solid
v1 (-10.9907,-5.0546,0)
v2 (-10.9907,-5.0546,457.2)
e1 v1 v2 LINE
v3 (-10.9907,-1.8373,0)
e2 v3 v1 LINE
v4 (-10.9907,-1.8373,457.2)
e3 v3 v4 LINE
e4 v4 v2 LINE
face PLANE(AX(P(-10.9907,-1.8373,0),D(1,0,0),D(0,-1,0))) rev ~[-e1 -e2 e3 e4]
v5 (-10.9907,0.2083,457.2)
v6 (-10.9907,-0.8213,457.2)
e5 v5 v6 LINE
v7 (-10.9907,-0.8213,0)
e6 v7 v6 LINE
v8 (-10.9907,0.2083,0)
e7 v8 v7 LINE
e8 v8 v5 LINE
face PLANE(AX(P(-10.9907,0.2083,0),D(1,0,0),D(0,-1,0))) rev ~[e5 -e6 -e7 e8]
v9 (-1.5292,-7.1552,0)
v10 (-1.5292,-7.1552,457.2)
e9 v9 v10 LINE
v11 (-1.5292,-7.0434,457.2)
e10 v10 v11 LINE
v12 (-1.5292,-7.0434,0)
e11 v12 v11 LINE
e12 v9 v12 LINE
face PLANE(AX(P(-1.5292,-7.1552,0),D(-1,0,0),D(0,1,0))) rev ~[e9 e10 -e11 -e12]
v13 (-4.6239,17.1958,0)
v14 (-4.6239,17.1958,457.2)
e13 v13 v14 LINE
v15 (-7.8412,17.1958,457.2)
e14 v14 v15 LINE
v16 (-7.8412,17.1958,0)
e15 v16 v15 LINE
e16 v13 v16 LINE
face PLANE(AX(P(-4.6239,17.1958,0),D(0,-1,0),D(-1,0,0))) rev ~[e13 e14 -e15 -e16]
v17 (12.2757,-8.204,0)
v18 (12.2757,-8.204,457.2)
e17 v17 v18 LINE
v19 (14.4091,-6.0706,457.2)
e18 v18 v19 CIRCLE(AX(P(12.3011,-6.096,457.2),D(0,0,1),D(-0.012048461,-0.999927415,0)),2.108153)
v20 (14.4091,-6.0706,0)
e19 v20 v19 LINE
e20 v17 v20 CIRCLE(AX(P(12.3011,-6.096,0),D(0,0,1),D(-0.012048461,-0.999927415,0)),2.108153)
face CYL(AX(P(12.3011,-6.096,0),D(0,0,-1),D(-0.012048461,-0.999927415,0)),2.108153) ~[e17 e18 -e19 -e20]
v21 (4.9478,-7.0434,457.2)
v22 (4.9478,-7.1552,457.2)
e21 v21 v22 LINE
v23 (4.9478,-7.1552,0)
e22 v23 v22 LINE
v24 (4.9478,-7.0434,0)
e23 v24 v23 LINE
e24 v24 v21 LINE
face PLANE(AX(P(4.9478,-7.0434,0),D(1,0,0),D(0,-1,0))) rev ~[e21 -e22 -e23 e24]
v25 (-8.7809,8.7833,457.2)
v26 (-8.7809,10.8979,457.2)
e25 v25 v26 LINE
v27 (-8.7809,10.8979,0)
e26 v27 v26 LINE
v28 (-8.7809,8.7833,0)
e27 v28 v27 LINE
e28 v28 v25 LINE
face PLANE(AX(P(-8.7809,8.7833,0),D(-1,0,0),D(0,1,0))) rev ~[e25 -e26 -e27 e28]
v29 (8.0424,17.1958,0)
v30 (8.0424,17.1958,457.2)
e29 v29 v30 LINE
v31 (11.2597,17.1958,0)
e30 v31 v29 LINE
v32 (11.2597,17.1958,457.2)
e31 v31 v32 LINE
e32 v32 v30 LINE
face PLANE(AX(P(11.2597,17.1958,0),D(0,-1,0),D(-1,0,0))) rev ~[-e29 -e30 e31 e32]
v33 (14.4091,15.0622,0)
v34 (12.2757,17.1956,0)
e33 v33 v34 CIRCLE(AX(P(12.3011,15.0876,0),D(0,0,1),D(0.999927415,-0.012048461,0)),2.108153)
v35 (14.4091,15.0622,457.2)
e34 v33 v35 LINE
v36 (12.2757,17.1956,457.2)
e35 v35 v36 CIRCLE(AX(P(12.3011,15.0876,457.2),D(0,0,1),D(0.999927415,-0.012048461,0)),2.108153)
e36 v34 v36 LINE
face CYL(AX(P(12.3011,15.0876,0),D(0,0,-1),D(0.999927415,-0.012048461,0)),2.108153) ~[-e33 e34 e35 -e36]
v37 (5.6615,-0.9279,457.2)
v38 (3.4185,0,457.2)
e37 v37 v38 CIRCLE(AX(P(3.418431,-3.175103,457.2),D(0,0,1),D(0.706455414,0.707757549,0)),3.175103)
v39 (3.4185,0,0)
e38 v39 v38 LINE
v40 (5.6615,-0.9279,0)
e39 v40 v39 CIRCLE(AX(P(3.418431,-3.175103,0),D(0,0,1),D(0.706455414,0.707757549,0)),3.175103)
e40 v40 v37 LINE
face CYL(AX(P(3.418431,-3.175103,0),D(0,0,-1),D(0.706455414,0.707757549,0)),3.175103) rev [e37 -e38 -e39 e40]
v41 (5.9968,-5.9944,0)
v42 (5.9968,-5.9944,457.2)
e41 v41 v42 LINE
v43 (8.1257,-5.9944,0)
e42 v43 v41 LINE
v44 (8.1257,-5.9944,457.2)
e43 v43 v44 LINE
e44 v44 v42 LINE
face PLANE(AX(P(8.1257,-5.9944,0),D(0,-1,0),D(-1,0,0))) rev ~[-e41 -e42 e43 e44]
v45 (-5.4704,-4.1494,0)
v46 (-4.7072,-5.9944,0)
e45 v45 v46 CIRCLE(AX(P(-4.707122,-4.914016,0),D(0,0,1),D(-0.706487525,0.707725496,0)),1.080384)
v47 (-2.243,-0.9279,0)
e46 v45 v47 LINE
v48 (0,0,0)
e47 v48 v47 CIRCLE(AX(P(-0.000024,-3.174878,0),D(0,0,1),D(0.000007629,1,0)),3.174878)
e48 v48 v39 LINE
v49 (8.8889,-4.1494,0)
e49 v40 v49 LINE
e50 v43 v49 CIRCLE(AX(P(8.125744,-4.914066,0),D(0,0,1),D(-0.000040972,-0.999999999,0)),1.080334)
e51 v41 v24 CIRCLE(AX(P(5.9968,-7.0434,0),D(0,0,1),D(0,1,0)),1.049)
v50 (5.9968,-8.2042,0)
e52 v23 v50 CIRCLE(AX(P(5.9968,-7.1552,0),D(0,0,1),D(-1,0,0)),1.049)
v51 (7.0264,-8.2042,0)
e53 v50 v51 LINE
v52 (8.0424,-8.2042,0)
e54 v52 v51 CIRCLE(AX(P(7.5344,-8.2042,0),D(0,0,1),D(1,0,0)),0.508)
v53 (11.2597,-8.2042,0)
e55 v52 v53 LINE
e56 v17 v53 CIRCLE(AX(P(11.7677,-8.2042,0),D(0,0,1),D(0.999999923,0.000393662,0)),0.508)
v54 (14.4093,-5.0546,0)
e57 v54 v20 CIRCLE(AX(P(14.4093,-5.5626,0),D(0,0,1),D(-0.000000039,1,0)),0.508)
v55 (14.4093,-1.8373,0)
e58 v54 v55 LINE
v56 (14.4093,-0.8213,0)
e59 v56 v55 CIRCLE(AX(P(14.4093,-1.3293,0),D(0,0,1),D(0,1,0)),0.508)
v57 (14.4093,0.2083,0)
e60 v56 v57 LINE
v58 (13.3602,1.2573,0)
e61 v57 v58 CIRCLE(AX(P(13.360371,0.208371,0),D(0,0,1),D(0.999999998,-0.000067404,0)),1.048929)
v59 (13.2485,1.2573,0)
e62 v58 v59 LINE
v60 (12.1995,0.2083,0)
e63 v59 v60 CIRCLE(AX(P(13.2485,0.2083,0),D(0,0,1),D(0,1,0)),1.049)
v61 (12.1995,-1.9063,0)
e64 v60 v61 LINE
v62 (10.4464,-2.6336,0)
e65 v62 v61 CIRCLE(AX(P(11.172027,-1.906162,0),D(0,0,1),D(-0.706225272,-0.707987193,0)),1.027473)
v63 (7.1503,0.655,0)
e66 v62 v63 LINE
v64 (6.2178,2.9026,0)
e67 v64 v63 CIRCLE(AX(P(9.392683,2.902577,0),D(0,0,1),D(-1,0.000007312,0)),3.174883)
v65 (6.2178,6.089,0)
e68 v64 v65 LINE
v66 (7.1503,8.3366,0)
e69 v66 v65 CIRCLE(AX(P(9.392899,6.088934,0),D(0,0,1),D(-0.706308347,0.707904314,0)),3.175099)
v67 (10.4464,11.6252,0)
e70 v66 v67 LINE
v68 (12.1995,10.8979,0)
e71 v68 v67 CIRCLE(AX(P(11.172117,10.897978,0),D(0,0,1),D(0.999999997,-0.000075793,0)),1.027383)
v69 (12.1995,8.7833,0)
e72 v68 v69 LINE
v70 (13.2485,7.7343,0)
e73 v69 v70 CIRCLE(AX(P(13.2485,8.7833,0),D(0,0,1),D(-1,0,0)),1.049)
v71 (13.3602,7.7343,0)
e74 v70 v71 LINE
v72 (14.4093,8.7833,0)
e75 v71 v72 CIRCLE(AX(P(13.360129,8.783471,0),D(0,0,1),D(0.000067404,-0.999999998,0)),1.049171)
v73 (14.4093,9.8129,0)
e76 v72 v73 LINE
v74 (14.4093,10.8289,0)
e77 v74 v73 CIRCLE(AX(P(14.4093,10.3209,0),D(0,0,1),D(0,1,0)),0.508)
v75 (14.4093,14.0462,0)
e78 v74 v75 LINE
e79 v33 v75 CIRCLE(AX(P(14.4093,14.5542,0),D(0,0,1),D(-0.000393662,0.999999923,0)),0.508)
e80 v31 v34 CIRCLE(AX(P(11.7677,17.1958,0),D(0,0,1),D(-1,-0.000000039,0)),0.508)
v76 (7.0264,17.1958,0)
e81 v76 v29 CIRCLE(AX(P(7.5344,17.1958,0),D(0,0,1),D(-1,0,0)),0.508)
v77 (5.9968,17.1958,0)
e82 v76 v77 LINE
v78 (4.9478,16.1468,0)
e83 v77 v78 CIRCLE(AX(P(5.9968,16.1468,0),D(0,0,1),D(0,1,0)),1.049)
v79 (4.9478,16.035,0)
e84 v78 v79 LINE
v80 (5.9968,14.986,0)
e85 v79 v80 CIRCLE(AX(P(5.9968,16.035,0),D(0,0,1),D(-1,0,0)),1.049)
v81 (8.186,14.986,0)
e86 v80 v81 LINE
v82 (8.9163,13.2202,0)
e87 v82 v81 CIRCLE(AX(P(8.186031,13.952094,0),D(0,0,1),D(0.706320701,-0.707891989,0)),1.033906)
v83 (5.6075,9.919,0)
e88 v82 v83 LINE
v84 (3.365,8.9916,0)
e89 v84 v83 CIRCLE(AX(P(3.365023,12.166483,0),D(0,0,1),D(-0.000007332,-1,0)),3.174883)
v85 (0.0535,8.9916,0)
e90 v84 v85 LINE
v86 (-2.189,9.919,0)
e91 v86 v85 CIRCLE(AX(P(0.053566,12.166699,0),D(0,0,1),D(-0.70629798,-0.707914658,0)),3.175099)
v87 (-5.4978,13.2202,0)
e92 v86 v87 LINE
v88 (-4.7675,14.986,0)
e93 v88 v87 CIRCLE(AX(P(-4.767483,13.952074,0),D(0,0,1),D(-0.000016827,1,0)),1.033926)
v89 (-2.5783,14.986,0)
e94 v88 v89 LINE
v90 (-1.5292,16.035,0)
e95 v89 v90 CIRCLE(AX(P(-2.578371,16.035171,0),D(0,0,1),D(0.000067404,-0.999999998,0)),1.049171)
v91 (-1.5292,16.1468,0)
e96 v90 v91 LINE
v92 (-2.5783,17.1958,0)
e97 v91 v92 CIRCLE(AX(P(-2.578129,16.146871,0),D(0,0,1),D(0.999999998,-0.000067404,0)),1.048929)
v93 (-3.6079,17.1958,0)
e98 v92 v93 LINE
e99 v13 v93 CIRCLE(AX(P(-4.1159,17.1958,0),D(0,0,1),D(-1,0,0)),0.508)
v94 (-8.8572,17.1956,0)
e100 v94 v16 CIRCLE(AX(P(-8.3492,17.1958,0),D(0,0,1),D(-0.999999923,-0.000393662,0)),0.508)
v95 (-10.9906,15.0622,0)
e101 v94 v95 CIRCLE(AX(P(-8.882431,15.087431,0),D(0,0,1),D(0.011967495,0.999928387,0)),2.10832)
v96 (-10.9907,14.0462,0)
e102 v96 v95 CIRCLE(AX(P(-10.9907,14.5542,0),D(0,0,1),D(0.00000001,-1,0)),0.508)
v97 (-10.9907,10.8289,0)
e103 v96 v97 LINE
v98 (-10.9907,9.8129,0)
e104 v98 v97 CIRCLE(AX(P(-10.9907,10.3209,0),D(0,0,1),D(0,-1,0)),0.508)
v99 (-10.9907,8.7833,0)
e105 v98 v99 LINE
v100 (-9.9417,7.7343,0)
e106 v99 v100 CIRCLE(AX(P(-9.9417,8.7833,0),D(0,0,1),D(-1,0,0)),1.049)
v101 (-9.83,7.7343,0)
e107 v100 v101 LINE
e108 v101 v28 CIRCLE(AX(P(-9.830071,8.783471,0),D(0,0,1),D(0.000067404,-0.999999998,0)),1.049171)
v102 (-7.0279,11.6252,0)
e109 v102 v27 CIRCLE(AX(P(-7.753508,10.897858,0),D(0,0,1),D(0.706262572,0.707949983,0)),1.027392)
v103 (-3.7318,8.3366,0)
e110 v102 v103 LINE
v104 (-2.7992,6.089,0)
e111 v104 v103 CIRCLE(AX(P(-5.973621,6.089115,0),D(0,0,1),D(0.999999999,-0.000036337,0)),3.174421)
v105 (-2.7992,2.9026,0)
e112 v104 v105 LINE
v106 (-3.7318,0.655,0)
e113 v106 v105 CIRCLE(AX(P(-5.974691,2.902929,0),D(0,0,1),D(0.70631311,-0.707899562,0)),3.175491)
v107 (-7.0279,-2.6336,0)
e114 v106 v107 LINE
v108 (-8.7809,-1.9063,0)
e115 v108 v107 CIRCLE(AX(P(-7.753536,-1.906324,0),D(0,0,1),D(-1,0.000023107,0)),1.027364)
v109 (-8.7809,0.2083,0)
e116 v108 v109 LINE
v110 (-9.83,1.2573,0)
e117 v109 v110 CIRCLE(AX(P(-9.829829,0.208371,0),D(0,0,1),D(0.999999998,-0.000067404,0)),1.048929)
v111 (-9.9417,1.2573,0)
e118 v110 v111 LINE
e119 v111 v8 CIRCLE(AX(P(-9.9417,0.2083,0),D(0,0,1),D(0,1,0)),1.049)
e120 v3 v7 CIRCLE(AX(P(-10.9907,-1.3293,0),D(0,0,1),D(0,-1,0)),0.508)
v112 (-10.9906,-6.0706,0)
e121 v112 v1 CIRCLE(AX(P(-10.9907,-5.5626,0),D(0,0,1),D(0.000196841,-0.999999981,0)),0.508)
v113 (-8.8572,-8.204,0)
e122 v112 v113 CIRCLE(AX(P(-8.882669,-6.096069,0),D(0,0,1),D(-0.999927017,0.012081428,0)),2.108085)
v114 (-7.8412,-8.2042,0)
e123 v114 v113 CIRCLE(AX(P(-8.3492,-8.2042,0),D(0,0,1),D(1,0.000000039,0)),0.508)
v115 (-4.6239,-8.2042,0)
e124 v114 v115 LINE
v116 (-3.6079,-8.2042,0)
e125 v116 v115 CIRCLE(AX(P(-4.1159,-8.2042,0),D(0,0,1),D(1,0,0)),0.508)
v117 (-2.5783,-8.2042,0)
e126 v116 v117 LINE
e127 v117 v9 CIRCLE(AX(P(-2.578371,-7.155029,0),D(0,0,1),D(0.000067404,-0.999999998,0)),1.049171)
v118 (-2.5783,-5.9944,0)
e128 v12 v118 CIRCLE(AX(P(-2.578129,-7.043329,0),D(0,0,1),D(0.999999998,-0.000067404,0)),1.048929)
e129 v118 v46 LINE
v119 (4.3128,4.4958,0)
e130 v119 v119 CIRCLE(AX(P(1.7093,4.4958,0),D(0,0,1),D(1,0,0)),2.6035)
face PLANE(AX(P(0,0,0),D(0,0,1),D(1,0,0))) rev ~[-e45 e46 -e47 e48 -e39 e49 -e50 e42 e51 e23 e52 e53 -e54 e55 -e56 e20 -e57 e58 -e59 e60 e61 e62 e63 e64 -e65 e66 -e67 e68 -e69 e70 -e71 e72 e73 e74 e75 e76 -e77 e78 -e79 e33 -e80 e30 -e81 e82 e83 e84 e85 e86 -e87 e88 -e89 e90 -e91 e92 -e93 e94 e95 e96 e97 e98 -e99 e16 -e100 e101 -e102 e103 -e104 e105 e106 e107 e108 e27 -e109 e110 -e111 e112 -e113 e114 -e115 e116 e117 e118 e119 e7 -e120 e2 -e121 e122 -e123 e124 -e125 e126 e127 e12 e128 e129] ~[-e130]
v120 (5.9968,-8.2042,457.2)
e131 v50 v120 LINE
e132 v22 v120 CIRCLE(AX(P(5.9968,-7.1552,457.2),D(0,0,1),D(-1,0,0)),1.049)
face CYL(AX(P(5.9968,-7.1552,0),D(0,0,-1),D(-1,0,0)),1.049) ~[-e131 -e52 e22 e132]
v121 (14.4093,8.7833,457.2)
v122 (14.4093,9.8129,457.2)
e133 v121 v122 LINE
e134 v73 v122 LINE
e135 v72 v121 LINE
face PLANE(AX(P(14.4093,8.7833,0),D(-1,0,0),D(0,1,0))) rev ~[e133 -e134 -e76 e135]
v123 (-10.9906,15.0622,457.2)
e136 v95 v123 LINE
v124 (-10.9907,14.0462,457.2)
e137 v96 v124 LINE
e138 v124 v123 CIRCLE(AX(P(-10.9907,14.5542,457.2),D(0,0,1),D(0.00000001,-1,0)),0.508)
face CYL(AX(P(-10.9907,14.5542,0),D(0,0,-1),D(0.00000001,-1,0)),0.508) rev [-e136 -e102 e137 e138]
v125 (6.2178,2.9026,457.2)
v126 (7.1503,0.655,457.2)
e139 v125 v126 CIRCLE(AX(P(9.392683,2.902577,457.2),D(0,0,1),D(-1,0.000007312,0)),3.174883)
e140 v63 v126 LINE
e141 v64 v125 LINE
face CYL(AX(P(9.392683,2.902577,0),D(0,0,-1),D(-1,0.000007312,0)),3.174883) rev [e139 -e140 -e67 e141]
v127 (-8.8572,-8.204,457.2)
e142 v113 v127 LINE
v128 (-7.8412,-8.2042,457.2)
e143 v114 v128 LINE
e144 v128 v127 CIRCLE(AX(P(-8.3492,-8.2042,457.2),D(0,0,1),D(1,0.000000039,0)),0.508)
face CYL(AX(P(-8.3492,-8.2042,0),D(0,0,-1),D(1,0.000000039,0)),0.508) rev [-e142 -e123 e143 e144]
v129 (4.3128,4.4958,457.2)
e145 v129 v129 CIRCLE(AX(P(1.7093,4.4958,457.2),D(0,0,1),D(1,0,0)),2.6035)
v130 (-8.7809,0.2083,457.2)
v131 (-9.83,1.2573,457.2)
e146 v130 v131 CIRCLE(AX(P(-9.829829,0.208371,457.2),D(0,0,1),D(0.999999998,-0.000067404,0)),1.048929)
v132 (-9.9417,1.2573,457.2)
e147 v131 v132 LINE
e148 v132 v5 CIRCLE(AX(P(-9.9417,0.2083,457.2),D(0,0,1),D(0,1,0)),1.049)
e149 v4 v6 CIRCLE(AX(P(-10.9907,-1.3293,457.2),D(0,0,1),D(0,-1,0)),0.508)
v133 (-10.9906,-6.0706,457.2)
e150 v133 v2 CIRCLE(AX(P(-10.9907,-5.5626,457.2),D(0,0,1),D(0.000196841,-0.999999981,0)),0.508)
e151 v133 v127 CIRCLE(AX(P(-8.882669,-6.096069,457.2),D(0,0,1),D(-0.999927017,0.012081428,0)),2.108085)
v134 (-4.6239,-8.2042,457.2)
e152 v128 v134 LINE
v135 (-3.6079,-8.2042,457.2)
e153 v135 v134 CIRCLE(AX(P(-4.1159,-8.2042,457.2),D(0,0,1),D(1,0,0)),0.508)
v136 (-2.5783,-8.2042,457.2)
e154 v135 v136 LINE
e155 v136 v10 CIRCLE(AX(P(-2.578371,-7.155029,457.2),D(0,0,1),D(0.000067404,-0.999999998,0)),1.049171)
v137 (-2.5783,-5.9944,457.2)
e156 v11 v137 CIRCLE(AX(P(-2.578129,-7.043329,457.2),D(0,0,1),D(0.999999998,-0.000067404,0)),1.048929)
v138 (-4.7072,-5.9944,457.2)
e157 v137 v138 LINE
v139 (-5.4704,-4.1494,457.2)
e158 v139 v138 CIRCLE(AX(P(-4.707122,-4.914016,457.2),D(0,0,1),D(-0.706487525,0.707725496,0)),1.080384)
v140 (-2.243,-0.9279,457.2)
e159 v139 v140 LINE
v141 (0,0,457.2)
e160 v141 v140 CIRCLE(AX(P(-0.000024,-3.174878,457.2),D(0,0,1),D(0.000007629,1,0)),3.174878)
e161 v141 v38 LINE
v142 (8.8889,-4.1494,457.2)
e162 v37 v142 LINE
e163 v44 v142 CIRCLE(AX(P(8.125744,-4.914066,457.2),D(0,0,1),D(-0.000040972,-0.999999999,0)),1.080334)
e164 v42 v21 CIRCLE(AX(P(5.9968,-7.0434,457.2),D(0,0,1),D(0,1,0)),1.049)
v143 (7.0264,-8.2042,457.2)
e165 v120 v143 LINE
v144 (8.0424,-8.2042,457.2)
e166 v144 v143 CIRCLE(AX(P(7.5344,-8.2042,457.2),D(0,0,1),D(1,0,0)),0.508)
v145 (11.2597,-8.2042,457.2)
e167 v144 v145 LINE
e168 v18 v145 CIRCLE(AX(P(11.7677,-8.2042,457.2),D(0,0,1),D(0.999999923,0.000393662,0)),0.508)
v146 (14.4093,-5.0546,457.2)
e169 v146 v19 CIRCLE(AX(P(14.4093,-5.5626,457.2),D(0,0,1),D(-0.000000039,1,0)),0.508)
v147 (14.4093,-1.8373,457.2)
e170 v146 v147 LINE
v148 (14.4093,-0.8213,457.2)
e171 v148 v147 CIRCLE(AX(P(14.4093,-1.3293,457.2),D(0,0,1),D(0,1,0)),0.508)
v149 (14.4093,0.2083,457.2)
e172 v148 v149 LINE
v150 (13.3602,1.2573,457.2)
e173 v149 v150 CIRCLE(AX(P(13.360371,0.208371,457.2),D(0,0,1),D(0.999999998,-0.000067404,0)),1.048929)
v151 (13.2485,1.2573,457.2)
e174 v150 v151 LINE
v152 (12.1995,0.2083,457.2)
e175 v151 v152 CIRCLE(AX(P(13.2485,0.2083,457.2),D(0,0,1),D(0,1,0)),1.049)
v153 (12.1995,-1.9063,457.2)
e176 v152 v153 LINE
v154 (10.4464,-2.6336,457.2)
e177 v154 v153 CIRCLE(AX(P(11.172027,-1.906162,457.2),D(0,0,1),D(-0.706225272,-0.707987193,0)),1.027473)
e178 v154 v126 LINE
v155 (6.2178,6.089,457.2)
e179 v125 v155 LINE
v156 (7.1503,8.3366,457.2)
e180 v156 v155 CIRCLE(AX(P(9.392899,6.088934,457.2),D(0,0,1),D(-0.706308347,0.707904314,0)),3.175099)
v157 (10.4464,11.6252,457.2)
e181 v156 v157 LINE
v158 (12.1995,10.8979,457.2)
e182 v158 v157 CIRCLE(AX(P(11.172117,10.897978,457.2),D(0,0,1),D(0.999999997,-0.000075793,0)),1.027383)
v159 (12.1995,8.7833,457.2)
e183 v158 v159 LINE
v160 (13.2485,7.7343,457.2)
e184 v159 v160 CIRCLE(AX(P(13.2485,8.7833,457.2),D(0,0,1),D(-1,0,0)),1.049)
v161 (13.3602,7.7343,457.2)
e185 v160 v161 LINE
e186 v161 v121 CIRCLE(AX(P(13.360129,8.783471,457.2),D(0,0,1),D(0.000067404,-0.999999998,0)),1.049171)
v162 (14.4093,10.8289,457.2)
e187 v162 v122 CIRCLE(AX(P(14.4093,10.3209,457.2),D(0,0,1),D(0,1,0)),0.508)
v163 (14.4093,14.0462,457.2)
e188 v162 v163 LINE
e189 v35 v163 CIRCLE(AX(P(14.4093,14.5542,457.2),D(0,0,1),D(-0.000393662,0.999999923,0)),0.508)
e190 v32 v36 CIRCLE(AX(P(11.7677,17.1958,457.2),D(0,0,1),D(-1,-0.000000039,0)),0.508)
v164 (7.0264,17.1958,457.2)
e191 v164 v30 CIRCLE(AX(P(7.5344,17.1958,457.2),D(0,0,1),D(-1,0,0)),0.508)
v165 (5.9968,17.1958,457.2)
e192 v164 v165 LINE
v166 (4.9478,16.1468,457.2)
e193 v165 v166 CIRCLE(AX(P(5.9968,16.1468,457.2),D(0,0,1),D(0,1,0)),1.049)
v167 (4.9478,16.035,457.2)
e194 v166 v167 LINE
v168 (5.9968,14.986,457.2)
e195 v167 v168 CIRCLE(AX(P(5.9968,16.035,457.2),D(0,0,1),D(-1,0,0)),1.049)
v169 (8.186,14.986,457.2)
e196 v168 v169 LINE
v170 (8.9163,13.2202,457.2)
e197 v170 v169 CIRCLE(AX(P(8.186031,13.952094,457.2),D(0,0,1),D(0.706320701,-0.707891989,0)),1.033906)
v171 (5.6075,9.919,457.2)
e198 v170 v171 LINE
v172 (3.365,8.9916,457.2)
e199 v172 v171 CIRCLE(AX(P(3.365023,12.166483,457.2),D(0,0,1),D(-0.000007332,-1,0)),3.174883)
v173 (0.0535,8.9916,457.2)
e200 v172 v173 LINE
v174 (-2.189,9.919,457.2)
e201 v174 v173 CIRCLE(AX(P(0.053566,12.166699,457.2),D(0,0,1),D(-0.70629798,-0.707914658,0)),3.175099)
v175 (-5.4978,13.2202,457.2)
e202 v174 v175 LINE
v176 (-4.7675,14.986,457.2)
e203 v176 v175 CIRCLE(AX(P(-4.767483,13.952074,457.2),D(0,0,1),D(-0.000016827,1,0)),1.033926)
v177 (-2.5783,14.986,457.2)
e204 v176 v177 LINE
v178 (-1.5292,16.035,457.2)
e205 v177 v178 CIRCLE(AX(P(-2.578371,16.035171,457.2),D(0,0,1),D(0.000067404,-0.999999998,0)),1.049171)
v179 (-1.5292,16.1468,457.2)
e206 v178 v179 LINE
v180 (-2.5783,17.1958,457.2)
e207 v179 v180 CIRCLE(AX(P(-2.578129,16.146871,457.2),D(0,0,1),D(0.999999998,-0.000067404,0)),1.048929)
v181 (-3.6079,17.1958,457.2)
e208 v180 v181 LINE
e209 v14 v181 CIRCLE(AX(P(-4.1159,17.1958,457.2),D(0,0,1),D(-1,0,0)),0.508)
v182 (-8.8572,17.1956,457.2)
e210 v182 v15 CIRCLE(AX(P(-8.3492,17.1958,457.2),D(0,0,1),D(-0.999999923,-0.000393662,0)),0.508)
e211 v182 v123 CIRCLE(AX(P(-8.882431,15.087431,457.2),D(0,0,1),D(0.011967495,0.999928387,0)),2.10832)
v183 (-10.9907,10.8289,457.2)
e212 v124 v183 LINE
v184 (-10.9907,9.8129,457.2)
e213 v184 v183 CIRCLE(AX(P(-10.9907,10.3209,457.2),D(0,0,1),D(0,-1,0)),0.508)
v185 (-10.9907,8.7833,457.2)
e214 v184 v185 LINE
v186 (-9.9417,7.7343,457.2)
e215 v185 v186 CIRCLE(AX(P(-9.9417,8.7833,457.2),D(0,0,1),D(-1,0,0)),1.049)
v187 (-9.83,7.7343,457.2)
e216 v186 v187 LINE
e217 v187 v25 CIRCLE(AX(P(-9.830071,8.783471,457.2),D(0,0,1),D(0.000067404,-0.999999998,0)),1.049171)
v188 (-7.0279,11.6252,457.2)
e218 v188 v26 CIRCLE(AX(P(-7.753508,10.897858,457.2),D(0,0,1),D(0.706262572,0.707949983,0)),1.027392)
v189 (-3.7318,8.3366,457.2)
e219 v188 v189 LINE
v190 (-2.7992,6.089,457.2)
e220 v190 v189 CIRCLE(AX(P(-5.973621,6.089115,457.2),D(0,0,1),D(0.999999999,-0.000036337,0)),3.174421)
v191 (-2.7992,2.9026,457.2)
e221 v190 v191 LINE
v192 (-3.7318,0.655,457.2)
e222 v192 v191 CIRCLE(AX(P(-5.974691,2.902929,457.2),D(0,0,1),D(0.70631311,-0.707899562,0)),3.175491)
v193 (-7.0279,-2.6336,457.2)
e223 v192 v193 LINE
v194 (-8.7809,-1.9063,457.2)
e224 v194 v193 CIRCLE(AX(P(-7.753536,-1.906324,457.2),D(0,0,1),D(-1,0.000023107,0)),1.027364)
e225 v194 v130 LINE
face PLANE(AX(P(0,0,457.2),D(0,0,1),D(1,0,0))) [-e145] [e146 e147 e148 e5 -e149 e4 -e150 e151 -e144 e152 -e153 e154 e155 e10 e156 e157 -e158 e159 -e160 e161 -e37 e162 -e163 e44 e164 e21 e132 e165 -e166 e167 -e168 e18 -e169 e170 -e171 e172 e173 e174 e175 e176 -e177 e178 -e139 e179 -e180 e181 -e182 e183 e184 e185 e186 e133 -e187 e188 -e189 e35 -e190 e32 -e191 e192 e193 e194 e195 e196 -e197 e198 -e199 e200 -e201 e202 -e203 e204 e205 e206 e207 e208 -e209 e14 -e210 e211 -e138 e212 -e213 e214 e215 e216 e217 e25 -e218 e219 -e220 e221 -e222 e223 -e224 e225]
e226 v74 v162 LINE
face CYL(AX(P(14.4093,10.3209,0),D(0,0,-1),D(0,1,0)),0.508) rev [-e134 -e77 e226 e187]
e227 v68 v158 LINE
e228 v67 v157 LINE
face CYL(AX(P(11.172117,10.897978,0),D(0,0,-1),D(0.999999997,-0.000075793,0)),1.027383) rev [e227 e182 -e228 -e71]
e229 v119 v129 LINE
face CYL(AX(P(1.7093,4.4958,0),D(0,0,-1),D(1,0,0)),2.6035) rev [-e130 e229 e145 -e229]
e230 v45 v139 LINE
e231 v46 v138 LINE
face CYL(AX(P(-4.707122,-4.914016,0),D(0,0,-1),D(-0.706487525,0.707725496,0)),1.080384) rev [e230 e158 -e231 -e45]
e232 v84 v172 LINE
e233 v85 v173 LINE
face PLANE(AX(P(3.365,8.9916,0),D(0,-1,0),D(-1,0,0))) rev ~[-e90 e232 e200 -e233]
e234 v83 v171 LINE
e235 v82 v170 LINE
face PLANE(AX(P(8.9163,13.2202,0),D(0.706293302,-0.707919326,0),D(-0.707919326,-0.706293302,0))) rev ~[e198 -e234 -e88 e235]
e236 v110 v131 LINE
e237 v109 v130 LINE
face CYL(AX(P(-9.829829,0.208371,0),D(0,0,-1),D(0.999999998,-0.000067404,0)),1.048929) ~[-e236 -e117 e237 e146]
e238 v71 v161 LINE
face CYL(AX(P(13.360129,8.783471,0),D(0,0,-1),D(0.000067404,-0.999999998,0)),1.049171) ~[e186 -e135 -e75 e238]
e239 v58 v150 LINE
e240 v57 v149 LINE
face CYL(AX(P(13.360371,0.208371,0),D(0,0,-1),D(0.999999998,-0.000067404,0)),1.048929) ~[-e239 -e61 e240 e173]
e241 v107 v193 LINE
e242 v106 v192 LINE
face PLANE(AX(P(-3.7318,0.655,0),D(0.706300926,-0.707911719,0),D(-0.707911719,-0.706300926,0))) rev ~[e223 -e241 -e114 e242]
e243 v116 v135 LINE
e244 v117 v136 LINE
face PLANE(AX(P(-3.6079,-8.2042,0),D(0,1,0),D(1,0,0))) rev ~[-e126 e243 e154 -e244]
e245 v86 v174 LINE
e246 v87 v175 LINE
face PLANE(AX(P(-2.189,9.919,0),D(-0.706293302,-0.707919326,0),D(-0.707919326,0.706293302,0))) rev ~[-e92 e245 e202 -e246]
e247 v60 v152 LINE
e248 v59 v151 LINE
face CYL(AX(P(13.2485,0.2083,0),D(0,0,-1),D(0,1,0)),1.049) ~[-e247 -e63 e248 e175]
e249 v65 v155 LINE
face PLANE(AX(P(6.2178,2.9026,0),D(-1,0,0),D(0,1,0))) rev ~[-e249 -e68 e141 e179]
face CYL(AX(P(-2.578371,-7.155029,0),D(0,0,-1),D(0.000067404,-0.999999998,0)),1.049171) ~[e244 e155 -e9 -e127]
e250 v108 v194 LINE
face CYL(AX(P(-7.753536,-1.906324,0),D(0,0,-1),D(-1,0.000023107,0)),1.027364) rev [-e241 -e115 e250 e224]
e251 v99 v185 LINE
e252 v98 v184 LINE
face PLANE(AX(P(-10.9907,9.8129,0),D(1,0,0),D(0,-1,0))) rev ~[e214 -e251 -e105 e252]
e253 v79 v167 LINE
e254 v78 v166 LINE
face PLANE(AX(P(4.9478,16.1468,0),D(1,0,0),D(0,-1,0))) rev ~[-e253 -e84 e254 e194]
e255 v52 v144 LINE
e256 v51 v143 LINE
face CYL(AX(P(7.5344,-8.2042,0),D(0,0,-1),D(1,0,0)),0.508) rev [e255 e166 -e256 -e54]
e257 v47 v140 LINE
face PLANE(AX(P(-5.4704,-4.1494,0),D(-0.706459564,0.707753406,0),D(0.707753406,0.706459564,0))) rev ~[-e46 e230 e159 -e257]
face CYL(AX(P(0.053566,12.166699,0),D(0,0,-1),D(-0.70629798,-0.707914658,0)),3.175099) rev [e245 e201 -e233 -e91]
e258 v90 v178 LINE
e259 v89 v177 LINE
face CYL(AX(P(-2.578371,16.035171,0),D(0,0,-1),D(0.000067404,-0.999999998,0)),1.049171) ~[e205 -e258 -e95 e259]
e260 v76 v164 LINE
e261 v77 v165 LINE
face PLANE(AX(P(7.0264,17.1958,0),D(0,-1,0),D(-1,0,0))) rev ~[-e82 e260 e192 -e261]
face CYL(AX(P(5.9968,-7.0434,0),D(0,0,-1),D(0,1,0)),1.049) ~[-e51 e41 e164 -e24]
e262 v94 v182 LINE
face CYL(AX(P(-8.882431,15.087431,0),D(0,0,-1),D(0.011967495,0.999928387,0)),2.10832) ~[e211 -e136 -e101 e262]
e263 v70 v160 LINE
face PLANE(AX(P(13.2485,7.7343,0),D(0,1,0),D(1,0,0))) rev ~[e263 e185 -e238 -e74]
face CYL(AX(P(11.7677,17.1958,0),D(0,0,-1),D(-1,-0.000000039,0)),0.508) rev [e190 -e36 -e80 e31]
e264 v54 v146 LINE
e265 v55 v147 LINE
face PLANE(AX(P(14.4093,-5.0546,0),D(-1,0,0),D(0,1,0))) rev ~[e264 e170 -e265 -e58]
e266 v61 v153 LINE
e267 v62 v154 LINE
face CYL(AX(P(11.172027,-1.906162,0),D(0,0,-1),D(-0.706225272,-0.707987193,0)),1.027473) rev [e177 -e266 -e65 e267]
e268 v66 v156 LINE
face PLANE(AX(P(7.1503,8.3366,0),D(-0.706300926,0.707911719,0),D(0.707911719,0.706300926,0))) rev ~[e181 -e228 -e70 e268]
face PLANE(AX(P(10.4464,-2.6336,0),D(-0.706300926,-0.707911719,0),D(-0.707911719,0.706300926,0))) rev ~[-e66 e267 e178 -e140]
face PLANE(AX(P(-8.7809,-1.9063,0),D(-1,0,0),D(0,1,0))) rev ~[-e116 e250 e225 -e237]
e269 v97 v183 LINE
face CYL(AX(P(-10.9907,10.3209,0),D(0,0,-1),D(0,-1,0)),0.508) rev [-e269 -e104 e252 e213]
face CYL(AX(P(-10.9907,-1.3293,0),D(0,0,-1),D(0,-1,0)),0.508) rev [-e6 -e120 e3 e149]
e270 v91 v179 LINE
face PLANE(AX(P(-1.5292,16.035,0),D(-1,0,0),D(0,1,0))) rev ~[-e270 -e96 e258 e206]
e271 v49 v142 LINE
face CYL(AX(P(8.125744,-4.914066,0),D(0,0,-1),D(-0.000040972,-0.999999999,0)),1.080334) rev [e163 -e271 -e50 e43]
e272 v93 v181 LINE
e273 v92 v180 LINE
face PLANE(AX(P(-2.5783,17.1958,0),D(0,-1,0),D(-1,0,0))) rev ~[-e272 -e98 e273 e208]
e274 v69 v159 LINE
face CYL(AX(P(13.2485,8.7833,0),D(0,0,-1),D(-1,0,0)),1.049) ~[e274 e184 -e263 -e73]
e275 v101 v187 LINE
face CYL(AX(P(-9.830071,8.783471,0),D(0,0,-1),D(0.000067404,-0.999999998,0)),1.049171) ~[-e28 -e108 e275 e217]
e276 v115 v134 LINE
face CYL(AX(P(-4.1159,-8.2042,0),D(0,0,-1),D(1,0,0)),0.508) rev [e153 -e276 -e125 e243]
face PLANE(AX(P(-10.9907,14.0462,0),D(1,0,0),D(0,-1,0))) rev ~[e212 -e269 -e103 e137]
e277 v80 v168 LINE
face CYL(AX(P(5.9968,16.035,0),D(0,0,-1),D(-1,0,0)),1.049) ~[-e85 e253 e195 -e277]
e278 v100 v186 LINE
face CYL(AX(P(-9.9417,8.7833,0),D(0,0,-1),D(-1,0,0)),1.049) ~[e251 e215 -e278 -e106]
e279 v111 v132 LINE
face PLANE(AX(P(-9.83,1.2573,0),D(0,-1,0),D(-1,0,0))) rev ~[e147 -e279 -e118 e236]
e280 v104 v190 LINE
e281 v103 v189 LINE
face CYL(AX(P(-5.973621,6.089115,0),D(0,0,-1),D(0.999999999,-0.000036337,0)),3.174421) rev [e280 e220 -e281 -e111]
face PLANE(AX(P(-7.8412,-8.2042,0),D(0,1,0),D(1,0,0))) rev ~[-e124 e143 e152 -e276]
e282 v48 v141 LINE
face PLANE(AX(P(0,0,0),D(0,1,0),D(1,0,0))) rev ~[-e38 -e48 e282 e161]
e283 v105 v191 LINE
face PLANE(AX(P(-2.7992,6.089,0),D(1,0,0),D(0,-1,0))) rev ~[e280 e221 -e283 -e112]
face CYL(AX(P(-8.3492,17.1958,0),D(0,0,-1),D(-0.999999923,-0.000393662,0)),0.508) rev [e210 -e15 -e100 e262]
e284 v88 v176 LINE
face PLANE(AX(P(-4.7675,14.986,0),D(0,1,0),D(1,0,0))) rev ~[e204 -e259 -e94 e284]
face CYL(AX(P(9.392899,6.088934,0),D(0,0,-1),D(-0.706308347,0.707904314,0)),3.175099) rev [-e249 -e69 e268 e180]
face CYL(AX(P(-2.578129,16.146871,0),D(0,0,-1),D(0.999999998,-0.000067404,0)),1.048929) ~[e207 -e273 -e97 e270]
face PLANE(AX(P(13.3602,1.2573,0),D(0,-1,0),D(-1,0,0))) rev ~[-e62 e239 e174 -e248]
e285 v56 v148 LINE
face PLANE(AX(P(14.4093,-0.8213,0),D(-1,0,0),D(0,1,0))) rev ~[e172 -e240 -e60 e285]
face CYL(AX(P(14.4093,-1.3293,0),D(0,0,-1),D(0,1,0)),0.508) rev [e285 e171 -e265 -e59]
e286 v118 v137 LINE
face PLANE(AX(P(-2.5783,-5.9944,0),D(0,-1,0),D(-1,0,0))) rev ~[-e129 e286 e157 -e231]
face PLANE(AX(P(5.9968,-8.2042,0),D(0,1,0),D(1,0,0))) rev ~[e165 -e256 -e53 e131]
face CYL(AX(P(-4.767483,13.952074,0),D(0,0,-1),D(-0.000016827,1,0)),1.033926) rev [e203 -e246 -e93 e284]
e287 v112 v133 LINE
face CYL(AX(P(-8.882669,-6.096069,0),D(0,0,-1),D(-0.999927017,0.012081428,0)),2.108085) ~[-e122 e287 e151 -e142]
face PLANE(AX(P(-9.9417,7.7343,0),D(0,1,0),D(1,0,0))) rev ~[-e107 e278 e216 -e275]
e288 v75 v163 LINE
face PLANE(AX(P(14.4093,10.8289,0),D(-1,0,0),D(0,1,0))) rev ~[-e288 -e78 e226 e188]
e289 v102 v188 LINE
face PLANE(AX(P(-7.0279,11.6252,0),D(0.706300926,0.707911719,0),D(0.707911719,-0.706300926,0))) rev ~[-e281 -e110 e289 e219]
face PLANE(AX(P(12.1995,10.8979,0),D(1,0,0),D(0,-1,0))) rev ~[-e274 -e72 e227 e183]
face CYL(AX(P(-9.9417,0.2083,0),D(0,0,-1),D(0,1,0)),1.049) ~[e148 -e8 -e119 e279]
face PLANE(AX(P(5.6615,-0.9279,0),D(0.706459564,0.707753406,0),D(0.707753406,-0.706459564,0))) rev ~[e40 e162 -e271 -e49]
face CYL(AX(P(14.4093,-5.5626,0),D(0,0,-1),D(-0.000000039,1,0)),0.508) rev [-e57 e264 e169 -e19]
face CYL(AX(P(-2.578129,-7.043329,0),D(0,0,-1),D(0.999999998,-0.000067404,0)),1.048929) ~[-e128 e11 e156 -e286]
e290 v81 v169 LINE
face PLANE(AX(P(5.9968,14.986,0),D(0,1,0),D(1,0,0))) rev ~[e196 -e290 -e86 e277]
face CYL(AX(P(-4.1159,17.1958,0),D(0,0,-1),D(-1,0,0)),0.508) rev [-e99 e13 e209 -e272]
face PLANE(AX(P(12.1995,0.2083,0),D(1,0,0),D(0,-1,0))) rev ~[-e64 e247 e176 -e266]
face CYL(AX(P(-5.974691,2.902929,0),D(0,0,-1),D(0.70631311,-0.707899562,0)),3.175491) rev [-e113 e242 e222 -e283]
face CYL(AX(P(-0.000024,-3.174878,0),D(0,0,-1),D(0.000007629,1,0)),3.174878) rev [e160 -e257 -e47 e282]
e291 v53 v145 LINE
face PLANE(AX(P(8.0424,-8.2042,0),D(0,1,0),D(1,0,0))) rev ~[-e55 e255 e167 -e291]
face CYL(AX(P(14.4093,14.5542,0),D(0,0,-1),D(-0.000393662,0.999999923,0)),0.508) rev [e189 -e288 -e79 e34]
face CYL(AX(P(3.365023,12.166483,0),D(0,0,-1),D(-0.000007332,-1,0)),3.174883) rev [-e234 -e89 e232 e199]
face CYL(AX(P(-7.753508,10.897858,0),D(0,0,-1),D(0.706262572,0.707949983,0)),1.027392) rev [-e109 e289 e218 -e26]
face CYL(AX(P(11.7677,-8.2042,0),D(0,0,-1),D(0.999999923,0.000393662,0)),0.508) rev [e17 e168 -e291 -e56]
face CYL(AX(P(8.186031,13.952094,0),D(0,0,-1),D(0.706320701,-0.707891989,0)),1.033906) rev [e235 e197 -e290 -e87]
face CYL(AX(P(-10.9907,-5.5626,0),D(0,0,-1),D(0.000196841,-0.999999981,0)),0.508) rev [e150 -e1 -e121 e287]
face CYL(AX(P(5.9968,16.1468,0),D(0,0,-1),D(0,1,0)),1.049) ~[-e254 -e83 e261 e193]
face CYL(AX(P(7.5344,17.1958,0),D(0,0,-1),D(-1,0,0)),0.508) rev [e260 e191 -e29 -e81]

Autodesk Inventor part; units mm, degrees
ref_plane "YZ Plane" through (0, 0, 0) normal (1, 0, 0) x (0, 1, 0)
ref_plane "XZ Plane" through (0, 0, 0) normal (0, 1, 0) x (-1, 0, 0)
ref_plane "XY Plane" through (0, 0, 0) normal (0, 0, 1) x (1, 0, 0)
sketch "Sketch1" plane through (0, 0, 0) normal (0, 0, 1) x (1, 0, 0)
  arc A0 (-5.4704, -4.1494) -> (-4.7072, -5.9944) centre (-4.7072, -4.914) ccw
  line L0 (-5.4704, -4.1494) -> (-2.243, -0.9279)
  arc A1 (0, 0) -> (-2.243, -0.9279) centre (0, -3.175) ccw
  line L1 (0, 0) -> (3.4185, 0)
  arc A2 (5.6615, -0.9279) -> (3.4185, 0) centre (3.4185, -3.175) ccw
  line L2 (5.6615, -0.9279) -> (8.8889, -4.1494)
  arc A3 (8.1257, -5.9944) -> (8.8889, -4.1494) centre (8.1257, -4.914) ccw
  line L3 (8.1257, -5.9944) -> (5.9968, -5.9944)
  arc A4 (5.9968, -5.9944) -> (4.9478, -7.0434) centre (5.9968, -7.0434) ccw
  line L4 (4.9478, -7.0434) -> (4.9478, -7.1552)
  arc A5 (4.9478, -7.1552) -> (5.9968, -8.2042) centre (5.9968, -7.1552) ccw
  line L5 (5.9968, -8.2042) -> (7.0264, -8.2042)
  arc A6 (8.0424, -8.2042) -> (7.0264, -8.2042) centre (7.5344, -8.2042) ccw
  line L6 (8.0424, -8.2042) -> (11.2597, -8.2042)
  arc A7 (12.2757, -8.204) -> (11.2597, -8.2042) centre (11.7677, -8.2042) ccw
  arc A8 (12.2757, -8.204) -> (14.4091, -6.0706) centre (12.3011, -6.096) ccw
  arc A9 (14.4093, -5.0546) -> (14.4091, -6.0706) centre (14.4093, -5.5626) ccw
  line L7 (14.4093, -5.0546) -> (14.4093, -1.8373)
  arc A10 (14.4093, -0.8213) -> (14.4093, -1.8373) centre (14.4093, -1.3293) ccw
  line L8 (14.4093, -0.8213) -> (14.4093, 0.2083)
  arc A11 (14.4093, 0.2083) -> (13.3602, 1.2573) centre (13.3602, 0.2083) ccw
  line L9 (13.3602, 1.2573) -> (13.2485, 1.2573)
  arc A12 (13.2485, 1.2573) -> (12.1995, 0.2083) centre (13.2485, 0.2083) ccw
  line L10 (12.1995, 0.2083) -> (12.1995, -1.9063)
  arc A13 (10.4464, -2.6336) -> (12.1995, -1.9063) centre (11.172, -1.9063) ccw
  line L11 (10.4464, -2.6336) -> (7.1503, 0.655)
  arc A14 (6.2178, 2.9026) -> (7.1503, 0.655) centre (9.3928, 2.9026) ccw
  line L12 (6.2178, 2.9026) -> (6.2178, 6.089)
  arc A15 (7.1503, 8.3366) -> (6.2178, 6.089) centre (9.3928, 6.089) ccw
  line L13 (7.1503, 8.3366) -> (10.4464, 11.6252)
  arc A16 (12.1995, 10.8979) -> (10.4464, 11.6252) centre (11.172, 10.8979) ccw
  line L14 (12.1995, 10.8979) -> (12.1995, 8.7833)
  arc A17 (12.1995, 8.7833) -> (13.2485, 7.7343) centre (13.2485, 8.7833) ccw
  line L15 (13.2485, 7.7343) -> (13.3602, 7.7343)
  arc A18 (13.3602, 7.7343) -> (14.4093, 8.7833) centre (13.3602, 8.7833) ccw
  line L16 (14.4093, 8.7833) -> (14.4093, 9.8129)
  arc A19 (14.4093, 10.8289) -> (14.4093, 9.8129) centre (14.4093, 10.3209) ccw
  line L17 (14.4093, 10.8289) -> (14.4093, 14.0462)
  arc A20 (14.4091, 15.0622) -> (14.4093, 14.0462) centre (14.4093, 14.5542) ccw
  arc A21 (14.4091, 15.0622) -> (12.2757, 17.1956) centre (12.3011, 15.0876) ccw
  arc A22 (11.2597, 17.1958) -> (12.2757, 17.1956) centre (11.7677, 17.1958) ccw
  line L18 (11.2597, 17.1958) -> (8.0424, 17.1958)
  arc A23 (7.0264, 17.1958) -> (8.0424, 17.1958) centre (7.5344, 17.1958) ccw
  line L19 (7.0264, 17.1958) -> (5.9968, 17.1958)
  arc A24 (5.9968, 17.1958) -> (4.9478, 16.1468) centre (5.9968, 16.1468) ccw
  line L20 (4.9478, 16.1468) -> (4.9478, 16.035)
  arc A25 (4.9478, 16.035) -> (5.9968, 14.986) centre (5.9968, 16.035) ccw
  line L21 (5.9968, 14.986) -> (8.186, 14.986)
  arc A26 (8.9163, 13.2202) -> (8.186, 14.986) centre (8.186, 13.9521) ccw
  line L22 (8.9163, 13.2202) -> (5.6075, 9.919)
  arc A27 (3.365, 8.9916) -> (5.6075, 9.919) centre (3.365, 12.1666) ccw
  line L23 (3.365, 8.9916) -> (0.0535, 8.9916)
  arc A28 (-2.189, 9.919) -> (0.0535, 8.9916) centre (0.0535, 12.1666) ccw
  line L24 (-2.189, 9.919) -> (-5.4978, 13.2202)
  arc A29 (-4.7675, 14.986) -> (-5.4978, 13.2202) centre (-4.7675, 13.9521) ccw
  line L25 (-4.7675, 14.986) -> (-2.5783, 14.986)
  arc A30 (-2.5783, 14.986) -> (-1.5292, 16.035) centre (-2.5783, 16.035) ccw
  line L26 (-1.5292, 16.035) -> (-1.5292, 16.1468)
  arc A31 (-1.5292, 16.1468) -> (-2.5783, 17.1958) centre (-2.5783, 16.1468) ccw
  line L27 (-2.5783, 17.1958) -> (-3.6079, 17.1958)
  arc A32 (-4.6239, 17.1958) -> (-3.6079, 17.1958) centre (-4.1159, 17.1958) ccw
  line L28 (-4.6239, 17.1958) -> (-7.8412, 17.1958)
  arc A33 (-8.8572, 17.1956) -> (-7.8412, 17.1958) centre (-8.3492, 17.1958) ccw
  arc A34 (-8.8572, 17.1956) -> (-10.9906, 15.0622) centre (-8.8825, 15.0876) ccw
  arc A35 (-10.9907, 14.0462) -> (-10.9906, 15.0622) centre (-10.9907, 14.5542) ccw
  line L29 (-10.9907, 14.0462) -> (-10.9907, 10.8289)
  arc A36 (-10.9907, 9.8129) -> (-10.9907, 10.8289) centre (-10.9907, 10.3209) ccw
  line L30 (-10.9907, 9.8129) -> (-10.9907, 8.7833)
  arc A37 (-10.9907, 8.7833) -> (-9.9417, 7.7343) centre (-9.9417, 8.7833) ccw
  line L31 (-9.9417, 7.7343) -> (-9.83, 7.7343)
  arc A38 (-9.83, 7.7343) -> (-8.7809, 8.7833) centre (-9.83, 8.7833) ccw
  line L32 (-8.7809, 8.7833) -> (-8.7809, 10.8979)
  arc A39 (-7.0279, 11.6252) -> (-8.7809, 10.8979) centre (-7.7535, 10.8979) ccw
  line L33 (-7.0279, 11.6252) -> (-3.7318, 8.3366)
  arc A40 (-2.7992, 6.089) -> (-3.7318, 8.3366) centre (-5.9742, 6.089) ccw
  line L34 (-2.7992, 6.089) -> (-2.7992, 2.9026)
  arc A41 (-3.7318, 0.655) -> (-2.7992, 2.9026) centre (-5.9742, 2.9026) ccw
  line L35 (-3.7318, 0.655) -> (-7.0279, -2.6336)
  arc A42 (-8.7809, -1.9063) -> (-7.0279, -2.6336) centre (-7.7535, -1.9063) ccw
  line L36 (-8.7809, -1.9063) -> (-8.7809, 0.2083)
  arc A43 (-8.7809, 0.2083) -> (-9.83, 1.2573) centre (-9.83, 0.2083) ccw
  line L37 (-9.83, 1.2573) -> (-9.9417, 1.2573)
  arc A44 (-9.9417, 1.2573) -> (-10.9907, 0.2083) centre (-9.9417, 0.2083) ccw
  line L38 (-10.9907, 0.2083) -> (-10.9907, -0.8213)
  arc A45 (-10.9907, -1.8373) -> (-10.9907, -0.8213) centre (-10.9907, -1.3293) ccw
  line L39 (-10.9907, -1.8373) -> (-10.9907, -5.0546)
  arc A46 (-10.9906, -6.0706) -> (-10.9907, -5.0546) centre (-10.9907, -5.5626) ccw
  arc A47 (-10.9906, -6.0706) -> (-8.8572, -8.204) centre (-8.8825, -6.096) ccw
  arc A48 (-7.8412, -8.2042) -> (-8.8572, -8.204) centre (-8.3492, -8.2042) ccw
  line L40 (-7.8412, -8.2042) -> (-4.6239, -8.2042)
  arc A49 (-3.6079, -8.2042) -> (-4.6239, -8.2042) centre (-4.1159, -8.2042) ccw
  line L41 (-3.6079, -8.2042) -> (-2.5783, -8.2042)
  arc A50 (-2.5783, -8.2042) -> (-1.5292, -7.1552) centre (-2.5783, -7.1552) ccw
  line L42 (-1.5292, -7.1552) -> (-1.5292, -7.0434)
  arc A51 (-1.5292, -7.0434) -> (-2.5783, -5.9944) centre (-2.5783, -7.0434) ccw
  line L43 (-2.5783, -5.9944) -> (-4.7072, -5.9944)
  circle A52 centre (1.7093, 4.4958) radius 2.6035
extrude "Extrusion1" add sketch "Sketch1" along normal blind 457.2
properties part number "18 in 1x1 T slot" material "Steel, Alloy"
